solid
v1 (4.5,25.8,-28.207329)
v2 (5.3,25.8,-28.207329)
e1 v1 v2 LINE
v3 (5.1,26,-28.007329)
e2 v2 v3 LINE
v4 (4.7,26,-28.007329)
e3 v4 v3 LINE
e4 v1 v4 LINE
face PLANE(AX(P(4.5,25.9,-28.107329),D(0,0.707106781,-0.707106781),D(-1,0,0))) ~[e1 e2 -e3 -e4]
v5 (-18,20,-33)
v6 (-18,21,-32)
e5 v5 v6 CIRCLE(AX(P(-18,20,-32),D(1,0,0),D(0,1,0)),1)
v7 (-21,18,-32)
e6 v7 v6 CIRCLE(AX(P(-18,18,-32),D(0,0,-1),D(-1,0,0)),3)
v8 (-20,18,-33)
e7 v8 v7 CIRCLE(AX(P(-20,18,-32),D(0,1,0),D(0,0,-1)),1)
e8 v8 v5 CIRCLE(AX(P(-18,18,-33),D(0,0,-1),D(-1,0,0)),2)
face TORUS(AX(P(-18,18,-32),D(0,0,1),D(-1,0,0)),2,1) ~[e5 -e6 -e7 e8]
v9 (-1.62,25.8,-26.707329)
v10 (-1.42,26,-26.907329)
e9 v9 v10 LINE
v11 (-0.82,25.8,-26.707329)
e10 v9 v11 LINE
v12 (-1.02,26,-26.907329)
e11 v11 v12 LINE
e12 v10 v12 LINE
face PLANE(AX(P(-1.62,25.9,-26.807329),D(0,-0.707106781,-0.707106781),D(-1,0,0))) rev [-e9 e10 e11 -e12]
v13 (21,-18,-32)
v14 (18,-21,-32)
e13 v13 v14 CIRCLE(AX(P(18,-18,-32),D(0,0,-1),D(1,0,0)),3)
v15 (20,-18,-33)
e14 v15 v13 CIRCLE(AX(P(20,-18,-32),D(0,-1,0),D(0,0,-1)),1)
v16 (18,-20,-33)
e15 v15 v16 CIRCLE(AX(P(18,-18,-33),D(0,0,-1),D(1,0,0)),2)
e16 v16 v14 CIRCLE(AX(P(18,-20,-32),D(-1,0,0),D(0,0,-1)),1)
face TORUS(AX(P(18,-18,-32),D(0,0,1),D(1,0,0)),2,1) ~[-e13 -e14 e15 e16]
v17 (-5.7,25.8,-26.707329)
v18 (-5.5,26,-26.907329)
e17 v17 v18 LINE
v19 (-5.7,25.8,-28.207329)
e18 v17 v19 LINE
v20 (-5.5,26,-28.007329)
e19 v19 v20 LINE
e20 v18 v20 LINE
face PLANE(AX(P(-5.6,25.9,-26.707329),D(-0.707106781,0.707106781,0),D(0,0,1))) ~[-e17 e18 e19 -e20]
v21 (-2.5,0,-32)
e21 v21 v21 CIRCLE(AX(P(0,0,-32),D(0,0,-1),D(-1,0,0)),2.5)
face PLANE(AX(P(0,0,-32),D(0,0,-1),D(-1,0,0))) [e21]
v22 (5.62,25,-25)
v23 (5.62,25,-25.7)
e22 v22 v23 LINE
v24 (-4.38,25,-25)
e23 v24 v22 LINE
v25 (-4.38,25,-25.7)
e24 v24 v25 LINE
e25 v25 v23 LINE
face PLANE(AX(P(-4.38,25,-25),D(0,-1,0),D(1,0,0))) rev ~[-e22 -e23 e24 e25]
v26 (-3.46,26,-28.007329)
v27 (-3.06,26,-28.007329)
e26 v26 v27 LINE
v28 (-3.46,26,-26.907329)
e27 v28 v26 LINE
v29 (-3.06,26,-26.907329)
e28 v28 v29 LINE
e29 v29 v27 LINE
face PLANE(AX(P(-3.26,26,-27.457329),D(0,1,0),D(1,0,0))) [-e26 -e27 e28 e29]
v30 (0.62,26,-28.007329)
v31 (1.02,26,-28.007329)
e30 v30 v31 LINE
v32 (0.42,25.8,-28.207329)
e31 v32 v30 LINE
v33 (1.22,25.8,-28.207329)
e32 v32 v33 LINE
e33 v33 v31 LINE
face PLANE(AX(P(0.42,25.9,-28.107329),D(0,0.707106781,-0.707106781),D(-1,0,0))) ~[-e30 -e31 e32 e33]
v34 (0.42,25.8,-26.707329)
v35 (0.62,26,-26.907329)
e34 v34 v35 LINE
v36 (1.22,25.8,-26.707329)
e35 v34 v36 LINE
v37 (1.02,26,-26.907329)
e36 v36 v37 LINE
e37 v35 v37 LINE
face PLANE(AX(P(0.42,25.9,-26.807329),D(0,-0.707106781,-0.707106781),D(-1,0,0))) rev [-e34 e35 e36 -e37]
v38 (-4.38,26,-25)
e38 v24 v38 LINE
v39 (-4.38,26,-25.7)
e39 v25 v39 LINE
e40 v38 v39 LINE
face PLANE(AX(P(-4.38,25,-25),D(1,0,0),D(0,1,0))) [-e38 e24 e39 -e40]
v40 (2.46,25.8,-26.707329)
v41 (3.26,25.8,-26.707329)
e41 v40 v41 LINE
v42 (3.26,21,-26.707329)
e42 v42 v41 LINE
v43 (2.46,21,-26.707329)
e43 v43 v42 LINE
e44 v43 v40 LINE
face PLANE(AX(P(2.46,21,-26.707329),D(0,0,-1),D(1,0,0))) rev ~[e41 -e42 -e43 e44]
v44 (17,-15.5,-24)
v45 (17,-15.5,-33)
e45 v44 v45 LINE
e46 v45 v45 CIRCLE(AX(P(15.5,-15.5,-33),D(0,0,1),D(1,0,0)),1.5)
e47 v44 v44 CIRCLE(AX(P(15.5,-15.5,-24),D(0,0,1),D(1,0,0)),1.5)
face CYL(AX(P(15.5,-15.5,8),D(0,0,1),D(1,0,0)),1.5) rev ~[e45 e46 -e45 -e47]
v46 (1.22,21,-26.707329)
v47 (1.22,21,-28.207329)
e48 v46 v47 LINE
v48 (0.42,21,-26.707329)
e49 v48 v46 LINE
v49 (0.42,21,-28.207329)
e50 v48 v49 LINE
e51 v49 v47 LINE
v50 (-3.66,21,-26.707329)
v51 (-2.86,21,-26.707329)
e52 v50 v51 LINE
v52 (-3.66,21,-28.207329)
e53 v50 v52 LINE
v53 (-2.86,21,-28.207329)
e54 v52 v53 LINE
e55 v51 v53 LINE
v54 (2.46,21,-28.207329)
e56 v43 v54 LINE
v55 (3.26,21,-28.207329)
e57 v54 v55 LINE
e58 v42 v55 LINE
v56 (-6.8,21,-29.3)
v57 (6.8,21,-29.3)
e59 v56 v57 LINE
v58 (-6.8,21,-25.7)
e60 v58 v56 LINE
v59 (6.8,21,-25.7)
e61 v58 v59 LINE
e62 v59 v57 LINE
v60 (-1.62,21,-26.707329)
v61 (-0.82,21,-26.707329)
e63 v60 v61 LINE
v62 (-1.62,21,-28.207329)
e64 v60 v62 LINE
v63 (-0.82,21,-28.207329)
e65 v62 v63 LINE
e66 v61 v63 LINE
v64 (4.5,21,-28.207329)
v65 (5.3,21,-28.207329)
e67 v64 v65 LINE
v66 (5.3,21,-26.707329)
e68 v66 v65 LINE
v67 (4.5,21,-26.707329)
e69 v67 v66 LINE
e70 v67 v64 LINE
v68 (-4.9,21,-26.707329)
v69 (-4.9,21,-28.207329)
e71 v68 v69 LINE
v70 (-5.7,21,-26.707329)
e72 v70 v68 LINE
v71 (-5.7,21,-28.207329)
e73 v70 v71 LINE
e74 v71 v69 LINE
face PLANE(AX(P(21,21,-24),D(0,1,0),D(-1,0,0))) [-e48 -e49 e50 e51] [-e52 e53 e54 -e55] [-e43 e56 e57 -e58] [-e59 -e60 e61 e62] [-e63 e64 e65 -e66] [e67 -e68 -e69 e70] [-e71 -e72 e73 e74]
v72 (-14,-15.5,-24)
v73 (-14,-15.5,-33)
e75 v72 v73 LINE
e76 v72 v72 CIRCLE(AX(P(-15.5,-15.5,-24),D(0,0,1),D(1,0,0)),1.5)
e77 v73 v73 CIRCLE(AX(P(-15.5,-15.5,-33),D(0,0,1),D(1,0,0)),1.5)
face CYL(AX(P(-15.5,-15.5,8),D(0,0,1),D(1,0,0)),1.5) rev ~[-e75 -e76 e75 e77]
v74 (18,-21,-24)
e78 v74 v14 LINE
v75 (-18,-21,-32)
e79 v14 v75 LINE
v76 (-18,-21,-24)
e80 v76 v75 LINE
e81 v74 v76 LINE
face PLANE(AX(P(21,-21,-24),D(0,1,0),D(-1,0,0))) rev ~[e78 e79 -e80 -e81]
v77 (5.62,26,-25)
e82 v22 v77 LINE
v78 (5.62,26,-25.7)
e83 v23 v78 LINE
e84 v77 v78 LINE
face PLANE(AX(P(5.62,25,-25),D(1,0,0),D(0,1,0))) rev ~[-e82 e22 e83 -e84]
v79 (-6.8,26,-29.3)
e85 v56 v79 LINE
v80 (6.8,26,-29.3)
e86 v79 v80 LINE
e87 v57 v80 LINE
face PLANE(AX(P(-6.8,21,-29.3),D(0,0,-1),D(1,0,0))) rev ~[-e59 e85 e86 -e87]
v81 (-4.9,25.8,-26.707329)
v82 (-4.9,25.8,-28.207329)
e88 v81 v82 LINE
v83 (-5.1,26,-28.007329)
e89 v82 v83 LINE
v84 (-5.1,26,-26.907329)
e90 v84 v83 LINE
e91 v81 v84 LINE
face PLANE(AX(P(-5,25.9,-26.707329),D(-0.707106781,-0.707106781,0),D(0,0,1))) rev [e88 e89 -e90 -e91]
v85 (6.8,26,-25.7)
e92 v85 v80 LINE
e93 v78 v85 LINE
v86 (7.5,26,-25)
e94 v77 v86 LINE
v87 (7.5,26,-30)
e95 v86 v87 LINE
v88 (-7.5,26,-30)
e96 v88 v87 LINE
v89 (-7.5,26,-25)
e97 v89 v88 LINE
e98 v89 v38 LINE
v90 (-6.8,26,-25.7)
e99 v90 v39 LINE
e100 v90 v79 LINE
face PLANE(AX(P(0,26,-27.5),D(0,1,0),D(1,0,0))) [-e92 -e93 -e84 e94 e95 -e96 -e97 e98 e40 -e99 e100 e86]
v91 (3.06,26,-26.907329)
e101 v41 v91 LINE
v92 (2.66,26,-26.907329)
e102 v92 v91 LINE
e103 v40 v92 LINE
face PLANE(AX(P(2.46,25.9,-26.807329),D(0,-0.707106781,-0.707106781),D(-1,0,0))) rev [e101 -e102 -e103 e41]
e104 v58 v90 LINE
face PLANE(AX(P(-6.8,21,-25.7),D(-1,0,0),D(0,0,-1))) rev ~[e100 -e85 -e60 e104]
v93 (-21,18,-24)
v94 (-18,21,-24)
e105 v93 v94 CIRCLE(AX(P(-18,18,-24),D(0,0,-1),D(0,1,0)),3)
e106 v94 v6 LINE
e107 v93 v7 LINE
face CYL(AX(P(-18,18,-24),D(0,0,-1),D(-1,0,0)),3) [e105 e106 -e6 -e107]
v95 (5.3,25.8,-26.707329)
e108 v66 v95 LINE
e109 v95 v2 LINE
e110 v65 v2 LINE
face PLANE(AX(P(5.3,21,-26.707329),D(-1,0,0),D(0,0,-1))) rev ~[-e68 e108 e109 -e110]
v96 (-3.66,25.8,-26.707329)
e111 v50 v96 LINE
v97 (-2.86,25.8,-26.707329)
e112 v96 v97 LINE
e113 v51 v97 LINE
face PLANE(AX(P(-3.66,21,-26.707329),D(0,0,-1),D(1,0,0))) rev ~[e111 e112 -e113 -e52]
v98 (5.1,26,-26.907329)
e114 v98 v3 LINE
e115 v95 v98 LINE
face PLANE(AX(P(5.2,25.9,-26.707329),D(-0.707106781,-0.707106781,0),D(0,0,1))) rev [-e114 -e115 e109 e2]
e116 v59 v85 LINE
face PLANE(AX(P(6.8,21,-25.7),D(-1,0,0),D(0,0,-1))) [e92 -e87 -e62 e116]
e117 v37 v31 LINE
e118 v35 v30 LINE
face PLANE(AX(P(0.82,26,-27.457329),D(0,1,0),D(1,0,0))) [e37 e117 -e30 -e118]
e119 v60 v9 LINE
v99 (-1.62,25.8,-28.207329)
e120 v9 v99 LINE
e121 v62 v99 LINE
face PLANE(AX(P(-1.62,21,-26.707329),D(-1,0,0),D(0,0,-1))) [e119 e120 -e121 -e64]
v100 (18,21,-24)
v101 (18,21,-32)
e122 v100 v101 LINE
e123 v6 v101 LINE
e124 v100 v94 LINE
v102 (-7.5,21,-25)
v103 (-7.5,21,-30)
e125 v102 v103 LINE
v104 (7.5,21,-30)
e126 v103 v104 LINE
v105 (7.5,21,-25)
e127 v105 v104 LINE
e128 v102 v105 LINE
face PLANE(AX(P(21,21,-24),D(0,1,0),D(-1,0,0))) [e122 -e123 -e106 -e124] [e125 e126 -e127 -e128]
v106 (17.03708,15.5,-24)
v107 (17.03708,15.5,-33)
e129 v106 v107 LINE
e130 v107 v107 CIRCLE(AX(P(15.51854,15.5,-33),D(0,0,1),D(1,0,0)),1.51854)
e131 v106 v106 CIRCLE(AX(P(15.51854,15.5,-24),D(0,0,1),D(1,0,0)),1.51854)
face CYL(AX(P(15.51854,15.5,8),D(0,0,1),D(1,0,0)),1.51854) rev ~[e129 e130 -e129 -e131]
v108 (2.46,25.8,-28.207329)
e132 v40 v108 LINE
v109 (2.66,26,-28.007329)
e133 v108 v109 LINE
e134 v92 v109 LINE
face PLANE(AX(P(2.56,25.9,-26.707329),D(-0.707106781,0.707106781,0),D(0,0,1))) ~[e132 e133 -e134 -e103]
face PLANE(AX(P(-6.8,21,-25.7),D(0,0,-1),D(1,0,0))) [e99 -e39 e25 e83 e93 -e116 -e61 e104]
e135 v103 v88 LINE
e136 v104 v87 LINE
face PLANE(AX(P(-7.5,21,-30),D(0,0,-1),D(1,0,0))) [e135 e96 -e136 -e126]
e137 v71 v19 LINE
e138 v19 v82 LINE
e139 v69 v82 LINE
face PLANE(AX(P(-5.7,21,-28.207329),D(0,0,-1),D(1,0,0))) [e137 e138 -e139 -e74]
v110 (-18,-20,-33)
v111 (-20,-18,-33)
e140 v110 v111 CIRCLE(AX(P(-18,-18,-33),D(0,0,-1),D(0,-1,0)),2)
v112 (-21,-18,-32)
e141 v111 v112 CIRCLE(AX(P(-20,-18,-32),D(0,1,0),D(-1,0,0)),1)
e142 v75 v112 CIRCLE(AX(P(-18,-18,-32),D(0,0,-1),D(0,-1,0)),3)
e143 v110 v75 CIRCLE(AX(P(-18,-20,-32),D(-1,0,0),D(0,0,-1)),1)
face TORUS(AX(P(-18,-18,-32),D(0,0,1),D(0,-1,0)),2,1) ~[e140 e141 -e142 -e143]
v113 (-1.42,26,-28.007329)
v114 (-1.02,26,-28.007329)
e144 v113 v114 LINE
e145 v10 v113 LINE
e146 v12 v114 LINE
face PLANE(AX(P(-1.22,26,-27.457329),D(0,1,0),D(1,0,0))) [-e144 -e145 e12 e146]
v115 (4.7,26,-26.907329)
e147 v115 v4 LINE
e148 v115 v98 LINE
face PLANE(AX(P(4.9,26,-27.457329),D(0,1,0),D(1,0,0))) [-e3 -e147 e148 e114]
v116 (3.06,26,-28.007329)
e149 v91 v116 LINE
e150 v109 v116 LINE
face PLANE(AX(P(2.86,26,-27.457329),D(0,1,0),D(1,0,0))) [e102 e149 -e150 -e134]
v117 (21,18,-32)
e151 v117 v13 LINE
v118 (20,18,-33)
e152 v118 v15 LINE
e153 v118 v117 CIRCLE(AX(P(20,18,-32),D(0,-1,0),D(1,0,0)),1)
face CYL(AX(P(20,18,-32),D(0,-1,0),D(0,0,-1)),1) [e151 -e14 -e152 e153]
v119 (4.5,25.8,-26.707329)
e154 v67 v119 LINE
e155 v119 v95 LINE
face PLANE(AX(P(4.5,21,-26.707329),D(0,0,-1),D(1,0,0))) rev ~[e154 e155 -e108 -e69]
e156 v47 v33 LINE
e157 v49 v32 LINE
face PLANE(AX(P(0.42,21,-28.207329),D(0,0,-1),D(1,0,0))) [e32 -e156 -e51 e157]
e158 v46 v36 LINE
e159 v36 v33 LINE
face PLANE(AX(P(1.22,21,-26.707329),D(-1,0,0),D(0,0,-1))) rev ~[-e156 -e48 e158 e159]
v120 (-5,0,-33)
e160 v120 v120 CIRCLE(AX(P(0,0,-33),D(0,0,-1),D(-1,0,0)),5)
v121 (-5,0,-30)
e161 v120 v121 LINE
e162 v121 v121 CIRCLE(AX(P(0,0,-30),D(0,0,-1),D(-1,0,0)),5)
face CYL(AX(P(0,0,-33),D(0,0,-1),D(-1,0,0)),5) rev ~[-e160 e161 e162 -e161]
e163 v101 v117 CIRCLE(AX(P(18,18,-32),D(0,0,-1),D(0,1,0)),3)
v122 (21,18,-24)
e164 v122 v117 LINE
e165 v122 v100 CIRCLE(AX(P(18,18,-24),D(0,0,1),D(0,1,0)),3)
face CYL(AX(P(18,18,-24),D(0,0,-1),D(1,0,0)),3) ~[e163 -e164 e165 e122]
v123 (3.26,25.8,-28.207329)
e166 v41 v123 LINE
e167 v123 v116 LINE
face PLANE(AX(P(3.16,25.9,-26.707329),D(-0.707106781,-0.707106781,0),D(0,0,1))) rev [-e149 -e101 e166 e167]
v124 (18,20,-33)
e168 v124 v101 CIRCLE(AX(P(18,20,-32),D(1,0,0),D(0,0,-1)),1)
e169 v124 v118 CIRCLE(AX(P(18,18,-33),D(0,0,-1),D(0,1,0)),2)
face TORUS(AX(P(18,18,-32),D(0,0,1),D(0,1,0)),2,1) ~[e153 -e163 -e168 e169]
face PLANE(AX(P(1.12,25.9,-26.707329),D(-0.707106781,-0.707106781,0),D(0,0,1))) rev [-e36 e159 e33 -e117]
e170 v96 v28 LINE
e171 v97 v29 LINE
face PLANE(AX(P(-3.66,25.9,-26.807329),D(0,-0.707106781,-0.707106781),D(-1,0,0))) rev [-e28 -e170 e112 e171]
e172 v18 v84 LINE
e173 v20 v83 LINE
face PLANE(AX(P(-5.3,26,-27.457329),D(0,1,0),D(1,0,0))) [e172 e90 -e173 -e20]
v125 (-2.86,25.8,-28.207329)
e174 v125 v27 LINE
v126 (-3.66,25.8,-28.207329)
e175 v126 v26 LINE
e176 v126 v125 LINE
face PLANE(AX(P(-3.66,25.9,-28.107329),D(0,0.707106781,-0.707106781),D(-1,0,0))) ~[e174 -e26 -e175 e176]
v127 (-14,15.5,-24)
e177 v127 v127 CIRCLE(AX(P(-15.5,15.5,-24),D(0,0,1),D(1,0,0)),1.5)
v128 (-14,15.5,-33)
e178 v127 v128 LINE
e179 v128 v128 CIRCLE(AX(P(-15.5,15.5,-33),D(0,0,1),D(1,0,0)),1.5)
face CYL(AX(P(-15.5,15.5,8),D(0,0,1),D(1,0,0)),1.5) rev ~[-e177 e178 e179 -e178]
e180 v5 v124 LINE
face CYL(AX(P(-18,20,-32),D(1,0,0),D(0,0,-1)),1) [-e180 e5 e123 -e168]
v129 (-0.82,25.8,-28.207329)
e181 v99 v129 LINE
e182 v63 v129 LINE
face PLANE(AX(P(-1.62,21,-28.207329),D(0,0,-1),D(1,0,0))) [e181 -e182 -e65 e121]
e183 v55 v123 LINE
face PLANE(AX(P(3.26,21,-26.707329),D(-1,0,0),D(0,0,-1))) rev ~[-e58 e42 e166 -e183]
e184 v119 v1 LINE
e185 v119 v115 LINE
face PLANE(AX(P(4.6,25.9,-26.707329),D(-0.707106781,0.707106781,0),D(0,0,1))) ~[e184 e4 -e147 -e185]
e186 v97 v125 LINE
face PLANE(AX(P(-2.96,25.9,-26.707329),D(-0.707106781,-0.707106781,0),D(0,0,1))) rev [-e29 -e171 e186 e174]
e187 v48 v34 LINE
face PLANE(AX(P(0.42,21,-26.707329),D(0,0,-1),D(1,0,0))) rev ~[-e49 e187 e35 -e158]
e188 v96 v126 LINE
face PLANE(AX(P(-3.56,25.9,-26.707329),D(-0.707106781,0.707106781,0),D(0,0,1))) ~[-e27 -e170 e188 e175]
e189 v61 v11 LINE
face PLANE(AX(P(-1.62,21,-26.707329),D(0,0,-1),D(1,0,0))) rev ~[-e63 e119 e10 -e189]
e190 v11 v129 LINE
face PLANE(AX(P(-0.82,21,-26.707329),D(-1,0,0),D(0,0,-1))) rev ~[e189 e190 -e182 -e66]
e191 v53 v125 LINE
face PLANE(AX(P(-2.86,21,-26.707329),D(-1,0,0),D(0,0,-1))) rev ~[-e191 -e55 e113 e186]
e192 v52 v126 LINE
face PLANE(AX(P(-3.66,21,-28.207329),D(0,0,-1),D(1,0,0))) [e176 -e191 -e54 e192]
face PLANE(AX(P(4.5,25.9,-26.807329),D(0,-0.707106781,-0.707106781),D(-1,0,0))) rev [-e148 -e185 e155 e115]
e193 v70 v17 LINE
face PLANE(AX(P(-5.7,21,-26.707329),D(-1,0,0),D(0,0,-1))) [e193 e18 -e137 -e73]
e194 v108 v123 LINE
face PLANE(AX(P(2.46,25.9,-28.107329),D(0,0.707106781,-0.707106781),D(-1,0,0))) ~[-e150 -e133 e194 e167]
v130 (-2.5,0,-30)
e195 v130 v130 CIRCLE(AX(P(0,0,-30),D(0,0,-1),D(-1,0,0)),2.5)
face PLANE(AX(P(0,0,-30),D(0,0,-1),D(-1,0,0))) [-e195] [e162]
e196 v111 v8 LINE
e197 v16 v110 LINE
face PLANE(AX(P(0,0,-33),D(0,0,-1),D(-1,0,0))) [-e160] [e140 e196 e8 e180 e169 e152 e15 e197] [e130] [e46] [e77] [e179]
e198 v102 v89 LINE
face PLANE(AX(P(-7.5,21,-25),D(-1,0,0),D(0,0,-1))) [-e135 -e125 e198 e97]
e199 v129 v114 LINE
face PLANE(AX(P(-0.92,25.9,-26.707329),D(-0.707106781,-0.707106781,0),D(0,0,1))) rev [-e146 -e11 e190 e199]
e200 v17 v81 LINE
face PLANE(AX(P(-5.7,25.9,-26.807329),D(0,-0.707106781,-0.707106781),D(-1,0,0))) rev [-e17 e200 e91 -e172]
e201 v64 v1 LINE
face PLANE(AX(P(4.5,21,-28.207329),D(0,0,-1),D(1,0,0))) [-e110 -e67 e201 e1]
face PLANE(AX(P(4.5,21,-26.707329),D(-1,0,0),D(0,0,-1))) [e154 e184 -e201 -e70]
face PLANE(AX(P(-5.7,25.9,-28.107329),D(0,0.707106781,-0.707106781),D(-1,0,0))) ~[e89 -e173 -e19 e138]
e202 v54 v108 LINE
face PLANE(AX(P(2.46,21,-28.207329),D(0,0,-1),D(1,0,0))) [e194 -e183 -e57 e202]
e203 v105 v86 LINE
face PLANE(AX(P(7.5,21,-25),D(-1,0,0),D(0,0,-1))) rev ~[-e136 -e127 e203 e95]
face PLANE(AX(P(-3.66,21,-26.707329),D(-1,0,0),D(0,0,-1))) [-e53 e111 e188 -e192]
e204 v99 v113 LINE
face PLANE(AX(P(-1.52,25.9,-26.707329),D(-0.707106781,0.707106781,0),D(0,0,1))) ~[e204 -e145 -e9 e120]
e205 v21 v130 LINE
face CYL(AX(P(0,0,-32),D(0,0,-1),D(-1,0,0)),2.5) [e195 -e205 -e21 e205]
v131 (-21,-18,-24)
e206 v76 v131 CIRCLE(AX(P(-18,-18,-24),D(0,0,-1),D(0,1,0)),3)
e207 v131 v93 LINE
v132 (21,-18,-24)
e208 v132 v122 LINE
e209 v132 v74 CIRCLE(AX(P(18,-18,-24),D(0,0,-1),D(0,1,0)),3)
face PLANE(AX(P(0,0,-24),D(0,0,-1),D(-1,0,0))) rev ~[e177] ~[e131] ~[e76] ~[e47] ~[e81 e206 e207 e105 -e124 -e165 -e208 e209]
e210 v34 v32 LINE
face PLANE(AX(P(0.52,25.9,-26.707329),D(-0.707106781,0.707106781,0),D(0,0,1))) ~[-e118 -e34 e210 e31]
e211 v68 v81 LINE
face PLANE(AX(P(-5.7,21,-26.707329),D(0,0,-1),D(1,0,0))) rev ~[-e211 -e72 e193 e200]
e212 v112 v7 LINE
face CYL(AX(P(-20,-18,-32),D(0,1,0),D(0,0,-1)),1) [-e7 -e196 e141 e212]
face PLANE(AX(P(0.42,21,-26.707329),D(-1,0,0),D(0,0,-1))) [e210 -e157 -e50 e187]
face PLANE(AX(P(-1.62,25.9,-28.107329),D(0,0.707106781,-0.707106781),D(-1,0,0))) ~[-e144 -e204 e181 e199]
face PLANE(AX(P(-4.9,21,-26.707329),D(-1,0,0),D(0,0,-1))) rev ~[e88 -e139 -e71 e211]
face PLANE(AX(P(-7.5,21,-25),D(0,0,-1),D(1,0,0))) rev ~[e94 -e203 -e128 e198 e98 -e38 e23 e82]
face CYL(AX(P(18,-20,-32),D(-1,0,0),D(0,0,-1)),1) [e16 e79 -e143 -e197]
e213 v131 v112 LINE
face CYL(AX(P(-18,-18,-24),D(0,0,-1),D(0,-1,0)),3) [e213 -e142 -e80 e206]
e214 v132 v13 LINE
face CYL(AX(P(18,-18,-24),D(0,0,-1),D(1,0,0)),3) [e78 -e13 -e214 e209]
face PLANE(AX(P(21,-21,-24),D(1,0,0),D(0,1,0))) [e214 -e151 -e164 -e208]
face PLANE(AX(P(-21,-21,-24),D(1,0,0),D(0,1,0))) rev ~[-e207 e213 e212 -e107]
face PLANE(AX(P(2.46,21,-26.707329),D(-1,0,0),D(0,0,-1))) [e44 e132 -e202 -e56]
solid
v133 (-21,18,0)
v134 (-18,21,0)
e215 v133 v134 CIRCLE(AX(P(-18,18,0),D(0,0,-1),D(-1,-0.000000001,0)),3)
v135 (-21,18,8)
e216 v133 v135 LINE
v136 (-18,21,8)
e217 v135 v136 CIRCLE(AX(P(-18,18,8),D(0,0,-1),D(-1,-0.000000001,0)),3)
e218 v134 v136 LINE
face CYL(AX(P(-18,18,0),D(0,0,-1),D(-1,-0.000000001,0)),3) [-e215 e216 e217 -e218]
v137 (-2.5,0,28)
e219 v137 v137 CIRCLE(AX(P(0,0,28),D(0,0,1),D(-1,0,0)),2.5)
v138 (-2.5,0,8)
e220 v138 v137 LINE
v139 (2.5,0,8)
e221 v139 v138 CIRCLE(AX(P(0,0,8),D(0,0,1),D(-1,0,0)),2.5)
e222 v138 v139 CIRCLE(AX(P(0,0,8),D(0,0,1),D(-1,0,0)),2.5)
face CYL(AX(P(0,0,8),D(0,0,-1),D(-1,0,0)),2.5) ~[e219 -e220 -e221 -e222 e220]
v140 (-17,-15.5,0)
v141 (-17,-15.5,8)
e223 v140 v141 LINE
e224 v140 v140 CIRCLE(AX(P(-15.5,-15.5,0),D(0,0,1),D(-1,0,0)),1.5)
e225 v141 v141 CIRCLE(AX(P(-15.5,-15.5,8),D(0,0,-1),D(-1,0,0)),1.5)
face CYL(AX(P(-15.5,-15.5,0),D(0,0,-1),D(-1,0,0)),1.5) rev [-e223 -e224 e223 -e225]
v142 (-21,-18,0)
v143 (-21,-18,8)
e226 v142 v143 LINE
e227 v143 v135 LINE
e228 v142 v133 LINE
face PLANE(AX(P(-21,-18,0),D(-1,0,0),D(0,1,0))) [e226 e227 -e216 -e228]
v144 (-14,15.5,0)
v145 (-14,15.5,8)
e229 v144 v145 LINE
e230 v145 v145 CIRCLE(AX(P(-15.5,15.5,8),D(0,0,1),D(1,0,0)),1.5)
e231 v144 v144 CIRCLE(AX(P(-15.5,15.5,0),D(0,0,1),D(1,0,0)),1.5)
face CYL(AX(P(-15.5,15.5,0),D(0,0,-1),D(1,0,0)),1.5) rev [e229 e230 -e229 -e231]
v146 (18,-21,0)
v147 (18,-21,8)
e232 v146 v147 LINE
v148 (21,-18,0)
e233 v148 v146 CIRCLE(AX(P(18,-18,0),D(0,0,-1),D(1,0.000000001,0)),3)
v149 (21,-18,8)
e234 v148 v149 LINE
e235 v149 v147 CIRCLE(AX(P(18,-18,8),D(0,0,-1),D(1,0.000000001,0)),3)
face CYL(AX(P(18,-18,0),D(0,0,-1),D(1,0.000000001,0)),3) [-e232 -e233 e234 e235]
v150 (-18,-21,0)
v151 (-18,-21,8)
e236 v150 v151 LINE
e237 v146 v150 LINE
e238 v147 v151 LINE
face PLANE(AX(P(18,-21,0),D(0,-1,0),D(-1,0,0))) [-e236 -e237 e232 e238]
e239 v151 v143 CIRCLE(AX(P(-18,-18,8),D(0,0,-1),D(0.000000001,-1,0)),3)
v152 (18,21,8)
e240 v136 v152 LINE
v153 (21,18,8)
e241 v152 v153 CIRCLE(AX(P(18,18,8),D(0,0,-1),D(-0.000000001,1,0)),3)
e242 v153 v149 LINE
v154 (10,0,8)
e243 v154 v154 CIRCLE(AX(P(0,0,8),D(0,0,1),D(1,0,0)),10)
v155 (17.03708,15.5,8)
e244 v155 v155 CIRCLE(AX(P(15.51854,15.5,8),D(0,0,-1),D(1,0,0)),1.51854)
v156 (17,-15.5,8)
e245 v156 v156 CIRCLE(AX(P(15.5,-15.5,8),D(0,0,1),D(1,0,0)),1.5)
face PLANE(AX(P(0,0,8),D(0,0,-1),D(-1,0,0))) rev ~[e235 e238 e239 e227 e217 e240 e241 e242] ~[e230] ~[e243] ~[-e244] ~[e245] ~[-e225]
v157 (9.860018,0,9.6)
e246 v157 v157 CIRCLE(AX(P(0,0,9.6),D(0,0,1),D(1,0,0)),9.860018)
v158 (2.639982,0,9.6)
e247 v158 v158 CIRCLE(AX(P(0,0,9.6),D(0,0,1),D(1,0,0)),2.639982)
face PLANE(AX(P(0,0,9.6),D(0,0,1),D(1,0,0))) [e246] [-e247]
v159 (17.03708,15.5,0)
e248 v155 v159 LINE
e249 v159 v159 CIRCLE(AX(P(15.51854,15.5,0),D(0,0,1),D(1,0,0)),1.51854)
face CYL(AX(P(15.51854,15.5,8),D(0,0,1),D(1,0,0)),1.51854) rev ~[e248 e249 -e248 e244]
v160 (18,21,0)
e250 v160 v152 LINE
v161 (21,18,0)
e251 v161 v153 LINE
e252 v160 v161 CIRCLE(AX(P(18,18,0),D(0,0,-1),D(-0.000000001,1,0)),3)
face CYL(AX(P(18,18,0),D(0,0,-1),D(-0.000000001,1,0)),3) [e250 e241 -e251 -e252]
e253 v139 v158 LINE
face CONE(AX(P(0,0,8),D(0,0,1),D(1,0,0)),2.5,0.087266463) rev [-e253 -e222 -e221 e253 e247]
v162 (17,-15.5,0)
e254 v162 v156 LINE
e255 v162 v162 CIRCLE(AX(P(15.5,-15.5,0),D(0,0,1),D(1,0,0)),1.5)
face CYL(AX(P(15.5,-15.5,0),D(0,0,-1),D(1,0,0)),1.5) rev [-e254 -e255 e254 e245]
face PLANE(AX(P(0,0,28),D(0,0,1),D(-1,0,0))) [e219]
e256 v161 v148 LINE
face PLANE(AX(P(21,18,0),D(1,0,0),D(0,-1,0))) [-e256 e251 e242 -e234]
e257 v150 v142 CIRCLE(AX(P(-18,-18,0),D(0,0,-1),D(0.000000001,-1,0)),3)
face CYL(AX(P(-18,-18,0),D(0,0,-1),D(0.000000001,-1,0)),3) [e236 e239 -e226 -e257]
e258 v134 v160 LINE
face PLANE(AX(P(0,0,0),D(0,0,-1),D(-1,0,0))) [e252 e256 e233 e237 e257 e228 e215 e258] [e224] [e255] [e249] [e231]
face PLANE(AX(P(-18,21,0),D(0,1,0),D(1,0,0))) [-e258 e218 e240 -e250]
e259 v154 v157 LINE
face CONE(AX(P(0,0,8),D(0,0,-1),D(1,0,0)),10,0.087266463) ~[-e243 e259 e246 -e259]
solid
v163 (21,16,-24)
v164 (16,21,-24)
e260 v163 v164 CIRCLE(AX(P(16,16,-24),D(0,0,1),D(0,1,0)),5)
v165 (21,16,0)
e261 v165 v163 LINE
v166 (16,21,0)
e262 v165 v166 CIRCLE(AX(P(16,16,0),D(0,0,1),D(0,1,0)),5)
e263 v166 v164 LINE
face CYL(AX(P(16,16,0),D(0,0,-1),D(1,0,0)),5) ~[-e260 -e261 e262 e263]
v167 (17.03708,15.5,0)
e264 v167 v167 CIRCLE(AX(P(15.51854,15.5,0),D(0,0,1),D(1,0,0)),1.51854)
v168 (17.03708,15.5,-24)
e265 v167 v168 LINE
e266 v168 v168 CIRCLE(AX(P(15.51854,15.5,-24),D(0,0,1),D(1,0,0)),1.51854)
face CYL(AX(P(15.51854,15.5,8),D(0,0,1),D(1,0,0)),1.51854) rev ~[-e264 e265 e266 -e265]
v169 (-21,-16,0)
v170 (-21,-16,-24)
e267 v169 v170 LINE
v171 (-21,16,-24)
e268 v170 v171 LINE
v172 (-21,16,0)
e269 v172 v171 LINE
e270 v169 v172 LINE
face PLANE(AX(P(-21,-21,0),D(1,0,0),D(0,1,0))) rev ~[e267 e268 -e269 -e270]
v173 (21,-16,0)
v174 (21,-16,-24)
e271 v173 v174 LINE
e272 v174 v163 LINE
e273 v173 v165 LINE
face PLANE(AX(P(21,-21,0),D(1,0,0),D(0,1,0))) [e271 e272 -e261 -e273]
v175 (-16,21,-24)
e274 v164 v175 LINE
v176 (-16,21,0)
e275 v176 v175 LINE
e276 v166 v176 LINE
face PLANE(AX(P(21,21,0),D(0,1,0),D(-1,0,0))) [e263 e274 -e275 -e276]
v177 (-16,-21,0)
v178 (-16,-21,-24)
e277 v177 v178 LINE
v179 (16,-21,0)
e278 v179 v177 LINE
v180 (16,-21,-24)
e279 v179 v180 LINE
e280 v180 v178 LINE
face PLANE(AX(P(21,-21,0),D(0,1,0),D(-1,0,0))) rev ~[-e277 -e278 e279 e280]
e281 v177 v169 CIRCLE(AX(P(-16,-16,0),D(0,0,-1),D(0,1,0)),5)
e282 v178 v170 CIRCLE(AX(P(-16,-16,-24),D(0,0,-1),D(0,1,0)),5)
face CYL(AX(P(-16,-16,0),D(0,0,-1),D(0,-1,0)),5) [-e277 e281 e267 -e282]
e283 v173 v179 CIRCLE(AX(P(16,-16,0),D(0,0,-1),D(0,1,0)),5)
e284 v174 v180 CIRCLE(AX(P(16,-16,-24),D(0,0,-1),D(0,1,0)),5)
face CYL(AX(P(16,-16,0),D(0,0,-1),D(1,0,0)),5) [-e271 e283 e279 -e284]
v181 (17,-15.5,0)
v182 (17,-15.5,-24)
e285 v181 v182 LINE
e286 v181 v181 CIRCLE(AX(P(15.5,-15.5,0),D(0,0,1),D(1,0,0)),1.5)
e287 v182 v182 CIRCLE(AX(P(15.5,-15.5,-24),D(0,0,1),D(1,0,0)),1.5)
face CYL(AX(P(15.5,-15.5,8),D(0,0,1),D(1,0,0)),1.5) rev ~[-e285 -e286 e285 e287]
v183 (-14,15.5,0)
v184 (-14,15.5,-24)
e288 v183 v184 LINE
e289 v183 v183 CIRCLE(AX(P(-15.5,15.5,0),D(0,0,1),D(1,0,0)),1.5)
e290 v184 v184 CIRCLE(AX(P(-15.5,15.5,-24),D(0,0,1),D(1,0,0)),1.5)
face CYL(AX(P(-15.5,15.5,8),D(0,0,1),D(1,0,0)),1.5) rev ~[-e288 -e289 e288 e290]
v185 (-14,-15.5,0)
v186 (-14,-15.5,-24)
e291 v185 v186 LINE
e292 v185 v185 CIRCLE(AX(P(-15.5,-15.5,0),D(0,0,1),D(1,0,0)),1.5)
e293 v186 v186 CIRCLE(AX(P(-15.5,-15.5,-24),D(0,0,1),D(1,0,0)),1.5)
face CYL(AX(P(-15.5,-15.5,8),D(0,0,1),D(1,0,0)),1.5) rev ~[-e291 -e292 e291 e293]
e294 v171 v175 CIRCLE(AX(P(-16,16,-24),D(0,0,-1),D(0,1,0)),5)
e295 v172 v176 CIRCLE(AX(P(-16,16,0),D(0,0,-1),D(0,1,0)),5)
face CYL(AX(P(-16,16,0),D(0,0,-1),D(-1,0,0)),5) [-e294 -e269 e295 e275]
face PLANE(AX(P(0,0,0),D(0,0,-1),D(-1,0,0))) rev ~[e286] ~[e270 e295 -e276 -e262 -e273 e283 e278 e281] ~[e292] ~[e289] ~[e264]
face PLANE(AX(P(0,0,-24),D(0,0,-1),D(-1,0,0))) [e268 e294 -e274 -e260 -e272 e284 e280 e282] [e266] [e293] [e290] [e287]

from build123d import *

# Parameters (mm, degrees)
SKETCH_1_R          = 1.5
EXTRUDE_1_DEPTH     = 8
SKETCH_4_R          = 2.5
EXTRUDE_2_DEPTH     = 20
SKETCH_9_W          = 42
SKETCH_9_H          = 42
EXTRUDE_7_DEPTH     = 24
SKETCH_10_W         = 42
SKETCH_10_H         = 42
EXTRUDE_8_DEPTH     = 9
FILLET_1_R          = 3
FILLET_2_R          = 5
SKETCH_12_R         = 1.5
SKETCH_12_R_2       = 1.518540069
CUT_EXTRUDE_1_DEPTH = 51.626080235
SKETCH_14_W         = 15
SKETCH_14_H         = 5
SKETCH_14_W_2       = 13.6
SKETCH_14_H_2       = 3.6
SKETCH_14_W_3       = 0.8
SKETCH_14_H_3       = 1.5
EXTRUDE_10_DEPTH    = 5
CHAMFER_1_SIZE      = 0.2
SKETCH_15_W         = 10
SKETCH_15_H         = 1
CUT_EXTRUDE_2_DEPTH = 0.7
FILLET_3_R          = 1
SKETCH_16_R         = 10
SKETCH_16_R_2       = 2.5
EXTRUDE_11_DEPTH    = 1.6
EXTRUDE_11_DRAFT    = 5
SKETCH_18_R         = 5
CUT_EXTRUDE_3_DEPTH = 3
EXTRUDE_START       = 2
SKETCH_19_R         = 2.5
EXTRUDE_13_DEPTH    = 2


with BuildPart() as part:
    # 草图1 → 凸台-拉伸1 (new body)
    with BuildSketch(Plane.XY):
        with BuildLine():
            Line((-18, 21), (18, 21))
            ThreePointArc((18, 21), (20.121320344, 20.121320344), (21, 18))
            Line((21, 18), (21, -18))
            ThreePointArc((21, -18), (20.121320344, -20.121320344), (18, -21))
            Line((18, -21), (-18, -21))
            ThreePointArc((-18, -21), (-20.121320344, -20.121320344), (-21, -18))
            Line((-21, -18), (-21, 18))
            ThreePointArc((-21, 18), (-20.121320344, 20.121320344), (-18, 21))
        make_face()
        with Locations((-15.5, 15.5)):
            Circle(SKETCH_1_R, mode=Mode.SUBTRACT)
        with Locations(Location((15.5, 15.5, 0), (0, 0, 180))):
            Circle(SKETCH_1_R, mode=Mode.SUBTRACT)
        with Locations((15.5, -15.5)):
            Circle(SKETCH_1_R, mode=Mode.SUBTRACT)
        with Locations(Location((-15.5, -15.5, 0), (0, 0, 180))):
            Circle(SKETCH_1_R, mode=Mode.SUBTRACT)
    extrude(amount=EXTRUDE_1_DEPTH)

    # 草图4 → 凸台-拉伸2 (add)
    with BuildSketch(Plane.XY.offset(8)):
        with Locations(Location((0, 0, 0), (0, 0, 180))):
            Circle(SKETCH_4_R)
    extrude(amount=EXTRUDE_2_DEPTH)


with BuildPart() as body_2:
    # 草图9 → 凸台-拉伸7 (new body)
    with BuildSketch(Plane(origin=(0, 0, 0), x_dir=(-1, 0, 0), z_dir=(0, 0, -1))):
        Rectangle(SKETCH_9_W, SKETCH_9_H)
    extrude(amount=EXTRUDE_7_DEPTH)

    # 圆角2
    fillet_2_edges = [body_2.edges().sort_by_distance(p)[0] for p in [
        (-21, -21, -12),
        (21, -21, -12),
        (21, 21, -12),
        (-21, 21, -12),
    ]]
    fillet(fillet_2_edges, radius=FILLET_2_R)


with BuildPart() as body_3:
    # 草图10 → 凸台-拉伸8 (new body)
    with BuildSketch(Plane(origin=(0, 0, -24), x_dir=(-1, 0, 0), z_dir=(0, 0, -1))):
        Rectangle(SKETCH_10_W, SKETCH_10_H)
    extrude(amount=EXTRUDE_8_DEPTH)

    # 圆角1
    fillet_1_edges = [body_3.edges().sort_by_distance(p)[0] for p in [
        (21, 21, -28.5),
        (-21, 21, -28.5),
        (-21, -21, -28.5),
        (21, -21, -28.5),
    ]]
    fillet(fillet_1_edges, radius=FILLET_1_R)


with BuildPart() as cut_extrude_1_tool:
    # 草图12 → 切除-拉伸1 (new, through all)
    with BuildSketch(Plane.XY.offset(8)):
        with Locations((-15.5, 15.5)):
            Circle(SKETCH_12_R)
        with Locations((15.518540069, 15.5)):
            Circle(SKETCH_12_R_2)
        with Locations((-15.5, -15.5)):
            Circle(SKETCH_12_R)
        with Locations((15.5, -15.5)):
            Circle(SKETCH_12_R)
    extrude(amount=-CUT_EXTRUDE_1_DEPTH)


with BuildPart() as part_1:
    add(part.part)

    # 切除-拉伸1: cut by cut_extrude_1_tool
    add(cut_extrude_1_tool.part, mode=Mode.SUBTRACT)


with BuildPart() as body_2_1:
    add(body_2.part)

    # 切除-拉伸1: cut by cut_extrude_1_tool
    add(cut_extrude_1_tool.part, mode=Mode.SUBTRACT)


with BuildPart() as body_3_1:
    add(body_3.part)

    # 切除-拉伸1: cut by cut_extrude_1_tool
    add(cut_extrude_1_tool.part, mode=Mode.SUBTRACT)

    # 草图14 → 凸台-拉伸10 (add)
    # profile 1 of 7: a face of its own
    with BuildSketch(Plane(origin=(0, 21, 0), x_dir=(1, 0, 0), z_dir=(0, 1, 0))):
        with Locations((0, 27.5)):
            Rectangle(SKETCH_14_W, SKETCH_14_H)
        with Locations((0, 27.5)):
            Rectangle(SKETCH_14_W_2, SKETCH_14_H_2, mode=Mode.SUBTRACT)
    # profile 2 of 7: a face of its own
    with BuildSketch(Plane(origin=(0, 21, 0), x_dir=(1, 0, 0), z_dir=(0, 1, 0))):
        with Locations((-5.3, 27.457329348)):
            Rectangle(SKETCH_14_W_3, SKETCH_14_H_3)
    # profile 3 of 7: a face of its own
    with BuildSketch(Plane(origin=(0, 21, 0), x_dir=(1, 0, 0), z_dir=(0, 1, 0))):
        with Locations((-1.22, 27.457329348)):
            Rectangle(SKETCH_14_W_3, SKETCH_14_H_3)
    # profile 4 of 7: a face of its own
    with BuildSketch(Plane(origin=(0, 21, 0), x_dir=(1, 0, 0), z_dir=(0, 1, 0))):
        with Locations((4.9, 27.457329348)):
            Rectangle(SKETCH_14_W_3, SKETCH_14_H_3)
    # profile 5 of 7: a face of its own
    with BuildSketch(Plane(origin=(0, 21, 0), x_dir=(1, 0, 0), z_dir=(0, 1, 0))):
        with Locations((2.86, 27.457329348)):
            Rectangle(SKETCH_14_W_3, SKETCH_14_H_3)
    # profile 6 of 7: a face of its own
    with BuildSketch(Plane(origin=(0, 21, 0), x_dir=(1, 0, 0), z_dir=(0, 1, 0))):
        with Locations((-3.26, 27.457329348)):
            Rectangle(SKETCH_14_W_3, SKETCH_14_H_3)
    # profile 7 of 7: a face of its own
    with BuildSketch(Plane(origin=(0, 21, 0), x_dir=(1, 0, 0), z_dir=(0, 1, 0))):
        with Locations((0.82, 27.457329348)):
            Rectangle(SKETCH_14_W_3, SKETCH_14_H_3)
    extrude(amount=EXTRUDE_10_DEPTH)

    # 倒角1
    chamfer_1_edges = [body_3_1.edges().sort_by_distance(p)[0] for p in [
        (5.3, 26, -27.457329348),
        (4.9, 26, -28.207329348),
        (4.5, 26, -27.457329348),
        (4.9, 26, -26.707329348),
        (3.26, 26, -27.457329348),
        (2.86, 26, -28.207329348),
        (2.46, 26, -27.457329348),
        (2.86, 26, -26.707329348),
        (-2.86, 26, -27.457329348),
        (-3.26, 26, -28.207329348),
        (-3.66, 26, -27.457329348),
        (-3.26, 26, -26.707329348),
        (1.22, 26, -27.457329348),
        (0.82, 26, -28.207329348),
        (0.42, 26, -27.457329348),
        (0.82, 26, -26.707329348),
        (-4.9, 26, -27.457329348),
        (-5.3, 26, -28.207329348),
        (-5.7, 26, -27.457329348),
        (-5.3, 26, -26.707329348),
        (-0.82, 26, -27.457329348),
        (-1.22, 26, -28.207329348),
        (-1.62, 26, -27.457329348),
        (-1.22, 26, -26.707329348),
    ]]
    chamfer(chamfer_1_edges, length=CHAMFER_1_SIZE)

    # 草图15 → 切除-拉伸2 (cut)
    with BuildSketch(Plane.XY.offset(-25)):
        with Locations((0.62, 25.5)):
            Rectangle(SKETCH_15_W, SKETCH_15_H)
    extrude(amount=-CUT_EXTRUDE_2_DEPTH, mode=Mode.SUBTRACT)

    # 圆角3
    fillet_3_edges = [body_3_1.edges().sort_by_distance(p)[0] for p in [
        (0, -21, -33),
        (21, 0, -33),
        (-21, 0, -33),
        (0, 21, -33),
        (20.121320344, 20.121320344, -33),
        (-20.121320344, 20.121320344, -33),
        (-20.121320344, -20.121320344, -33),
        (20.121320344, -20.121320344, -33),
    ]]
    fillet(fillet_3_edges, radius=FILLET_3_R)

    # 草图18 → 切除-拉伸3 (cut)
    with BuildSketch(Plane(origin=(0, 0, -33), x_dir=(-1, 0, 0), z_dir=(0, 0, -1))):
        Circle(SKETCH_18_R)
    extrude(amount=-CUT_EXTRUDE_3_DEPTH, mode=Mode.SUBTRACT)

    # 草图19 → 凸台-拉伸13 (add)
    with BuildSketch(Plane(origin=(0, 0, -30), x_dir=(-1, 0, 0), z_dir=(0, 0, -1)).offset(EXTRUDE_START)):
        Circle(SKETCH_19_R)
    extrude(amount=-EXTRUDE_13_DEPTH)


with BuildPart() as extrude_11_tool:
    # 草图16 → 凸台-拉伸11 (with draft: the straight prism first)
    with BuildSketch(Plane.XY.offset(8)):
        Circle(SKETCH_16_R)
        Circle(SKETCH_16_R_2, mode=Mode.SUBTRACT)
    extrude(amount=EXTRUDE_11_DEPTH)
    # 凸台-拉伸11: the draft: its side faces are tilted about the plane it starts from
    extrude_11_sides = [extrude_11_tool.faces().sort_by_distance(p)[0] for p in [
        (-10, 0, 8.8),
        (-2.5, 0, 8.8),
    ]]
    draft(extrude_11_sides, Plane.XY.offset(8), EXTRUDE_11_DRAFT)


with BuildPart() as part_2:
    add(part_1.part)

    # 凸台-拉伸11: add extrude_11_tool
    add(extrude_11_tool.part)


solid = Compound([body_2_1.part, body_3_1.part, part_2.part])
